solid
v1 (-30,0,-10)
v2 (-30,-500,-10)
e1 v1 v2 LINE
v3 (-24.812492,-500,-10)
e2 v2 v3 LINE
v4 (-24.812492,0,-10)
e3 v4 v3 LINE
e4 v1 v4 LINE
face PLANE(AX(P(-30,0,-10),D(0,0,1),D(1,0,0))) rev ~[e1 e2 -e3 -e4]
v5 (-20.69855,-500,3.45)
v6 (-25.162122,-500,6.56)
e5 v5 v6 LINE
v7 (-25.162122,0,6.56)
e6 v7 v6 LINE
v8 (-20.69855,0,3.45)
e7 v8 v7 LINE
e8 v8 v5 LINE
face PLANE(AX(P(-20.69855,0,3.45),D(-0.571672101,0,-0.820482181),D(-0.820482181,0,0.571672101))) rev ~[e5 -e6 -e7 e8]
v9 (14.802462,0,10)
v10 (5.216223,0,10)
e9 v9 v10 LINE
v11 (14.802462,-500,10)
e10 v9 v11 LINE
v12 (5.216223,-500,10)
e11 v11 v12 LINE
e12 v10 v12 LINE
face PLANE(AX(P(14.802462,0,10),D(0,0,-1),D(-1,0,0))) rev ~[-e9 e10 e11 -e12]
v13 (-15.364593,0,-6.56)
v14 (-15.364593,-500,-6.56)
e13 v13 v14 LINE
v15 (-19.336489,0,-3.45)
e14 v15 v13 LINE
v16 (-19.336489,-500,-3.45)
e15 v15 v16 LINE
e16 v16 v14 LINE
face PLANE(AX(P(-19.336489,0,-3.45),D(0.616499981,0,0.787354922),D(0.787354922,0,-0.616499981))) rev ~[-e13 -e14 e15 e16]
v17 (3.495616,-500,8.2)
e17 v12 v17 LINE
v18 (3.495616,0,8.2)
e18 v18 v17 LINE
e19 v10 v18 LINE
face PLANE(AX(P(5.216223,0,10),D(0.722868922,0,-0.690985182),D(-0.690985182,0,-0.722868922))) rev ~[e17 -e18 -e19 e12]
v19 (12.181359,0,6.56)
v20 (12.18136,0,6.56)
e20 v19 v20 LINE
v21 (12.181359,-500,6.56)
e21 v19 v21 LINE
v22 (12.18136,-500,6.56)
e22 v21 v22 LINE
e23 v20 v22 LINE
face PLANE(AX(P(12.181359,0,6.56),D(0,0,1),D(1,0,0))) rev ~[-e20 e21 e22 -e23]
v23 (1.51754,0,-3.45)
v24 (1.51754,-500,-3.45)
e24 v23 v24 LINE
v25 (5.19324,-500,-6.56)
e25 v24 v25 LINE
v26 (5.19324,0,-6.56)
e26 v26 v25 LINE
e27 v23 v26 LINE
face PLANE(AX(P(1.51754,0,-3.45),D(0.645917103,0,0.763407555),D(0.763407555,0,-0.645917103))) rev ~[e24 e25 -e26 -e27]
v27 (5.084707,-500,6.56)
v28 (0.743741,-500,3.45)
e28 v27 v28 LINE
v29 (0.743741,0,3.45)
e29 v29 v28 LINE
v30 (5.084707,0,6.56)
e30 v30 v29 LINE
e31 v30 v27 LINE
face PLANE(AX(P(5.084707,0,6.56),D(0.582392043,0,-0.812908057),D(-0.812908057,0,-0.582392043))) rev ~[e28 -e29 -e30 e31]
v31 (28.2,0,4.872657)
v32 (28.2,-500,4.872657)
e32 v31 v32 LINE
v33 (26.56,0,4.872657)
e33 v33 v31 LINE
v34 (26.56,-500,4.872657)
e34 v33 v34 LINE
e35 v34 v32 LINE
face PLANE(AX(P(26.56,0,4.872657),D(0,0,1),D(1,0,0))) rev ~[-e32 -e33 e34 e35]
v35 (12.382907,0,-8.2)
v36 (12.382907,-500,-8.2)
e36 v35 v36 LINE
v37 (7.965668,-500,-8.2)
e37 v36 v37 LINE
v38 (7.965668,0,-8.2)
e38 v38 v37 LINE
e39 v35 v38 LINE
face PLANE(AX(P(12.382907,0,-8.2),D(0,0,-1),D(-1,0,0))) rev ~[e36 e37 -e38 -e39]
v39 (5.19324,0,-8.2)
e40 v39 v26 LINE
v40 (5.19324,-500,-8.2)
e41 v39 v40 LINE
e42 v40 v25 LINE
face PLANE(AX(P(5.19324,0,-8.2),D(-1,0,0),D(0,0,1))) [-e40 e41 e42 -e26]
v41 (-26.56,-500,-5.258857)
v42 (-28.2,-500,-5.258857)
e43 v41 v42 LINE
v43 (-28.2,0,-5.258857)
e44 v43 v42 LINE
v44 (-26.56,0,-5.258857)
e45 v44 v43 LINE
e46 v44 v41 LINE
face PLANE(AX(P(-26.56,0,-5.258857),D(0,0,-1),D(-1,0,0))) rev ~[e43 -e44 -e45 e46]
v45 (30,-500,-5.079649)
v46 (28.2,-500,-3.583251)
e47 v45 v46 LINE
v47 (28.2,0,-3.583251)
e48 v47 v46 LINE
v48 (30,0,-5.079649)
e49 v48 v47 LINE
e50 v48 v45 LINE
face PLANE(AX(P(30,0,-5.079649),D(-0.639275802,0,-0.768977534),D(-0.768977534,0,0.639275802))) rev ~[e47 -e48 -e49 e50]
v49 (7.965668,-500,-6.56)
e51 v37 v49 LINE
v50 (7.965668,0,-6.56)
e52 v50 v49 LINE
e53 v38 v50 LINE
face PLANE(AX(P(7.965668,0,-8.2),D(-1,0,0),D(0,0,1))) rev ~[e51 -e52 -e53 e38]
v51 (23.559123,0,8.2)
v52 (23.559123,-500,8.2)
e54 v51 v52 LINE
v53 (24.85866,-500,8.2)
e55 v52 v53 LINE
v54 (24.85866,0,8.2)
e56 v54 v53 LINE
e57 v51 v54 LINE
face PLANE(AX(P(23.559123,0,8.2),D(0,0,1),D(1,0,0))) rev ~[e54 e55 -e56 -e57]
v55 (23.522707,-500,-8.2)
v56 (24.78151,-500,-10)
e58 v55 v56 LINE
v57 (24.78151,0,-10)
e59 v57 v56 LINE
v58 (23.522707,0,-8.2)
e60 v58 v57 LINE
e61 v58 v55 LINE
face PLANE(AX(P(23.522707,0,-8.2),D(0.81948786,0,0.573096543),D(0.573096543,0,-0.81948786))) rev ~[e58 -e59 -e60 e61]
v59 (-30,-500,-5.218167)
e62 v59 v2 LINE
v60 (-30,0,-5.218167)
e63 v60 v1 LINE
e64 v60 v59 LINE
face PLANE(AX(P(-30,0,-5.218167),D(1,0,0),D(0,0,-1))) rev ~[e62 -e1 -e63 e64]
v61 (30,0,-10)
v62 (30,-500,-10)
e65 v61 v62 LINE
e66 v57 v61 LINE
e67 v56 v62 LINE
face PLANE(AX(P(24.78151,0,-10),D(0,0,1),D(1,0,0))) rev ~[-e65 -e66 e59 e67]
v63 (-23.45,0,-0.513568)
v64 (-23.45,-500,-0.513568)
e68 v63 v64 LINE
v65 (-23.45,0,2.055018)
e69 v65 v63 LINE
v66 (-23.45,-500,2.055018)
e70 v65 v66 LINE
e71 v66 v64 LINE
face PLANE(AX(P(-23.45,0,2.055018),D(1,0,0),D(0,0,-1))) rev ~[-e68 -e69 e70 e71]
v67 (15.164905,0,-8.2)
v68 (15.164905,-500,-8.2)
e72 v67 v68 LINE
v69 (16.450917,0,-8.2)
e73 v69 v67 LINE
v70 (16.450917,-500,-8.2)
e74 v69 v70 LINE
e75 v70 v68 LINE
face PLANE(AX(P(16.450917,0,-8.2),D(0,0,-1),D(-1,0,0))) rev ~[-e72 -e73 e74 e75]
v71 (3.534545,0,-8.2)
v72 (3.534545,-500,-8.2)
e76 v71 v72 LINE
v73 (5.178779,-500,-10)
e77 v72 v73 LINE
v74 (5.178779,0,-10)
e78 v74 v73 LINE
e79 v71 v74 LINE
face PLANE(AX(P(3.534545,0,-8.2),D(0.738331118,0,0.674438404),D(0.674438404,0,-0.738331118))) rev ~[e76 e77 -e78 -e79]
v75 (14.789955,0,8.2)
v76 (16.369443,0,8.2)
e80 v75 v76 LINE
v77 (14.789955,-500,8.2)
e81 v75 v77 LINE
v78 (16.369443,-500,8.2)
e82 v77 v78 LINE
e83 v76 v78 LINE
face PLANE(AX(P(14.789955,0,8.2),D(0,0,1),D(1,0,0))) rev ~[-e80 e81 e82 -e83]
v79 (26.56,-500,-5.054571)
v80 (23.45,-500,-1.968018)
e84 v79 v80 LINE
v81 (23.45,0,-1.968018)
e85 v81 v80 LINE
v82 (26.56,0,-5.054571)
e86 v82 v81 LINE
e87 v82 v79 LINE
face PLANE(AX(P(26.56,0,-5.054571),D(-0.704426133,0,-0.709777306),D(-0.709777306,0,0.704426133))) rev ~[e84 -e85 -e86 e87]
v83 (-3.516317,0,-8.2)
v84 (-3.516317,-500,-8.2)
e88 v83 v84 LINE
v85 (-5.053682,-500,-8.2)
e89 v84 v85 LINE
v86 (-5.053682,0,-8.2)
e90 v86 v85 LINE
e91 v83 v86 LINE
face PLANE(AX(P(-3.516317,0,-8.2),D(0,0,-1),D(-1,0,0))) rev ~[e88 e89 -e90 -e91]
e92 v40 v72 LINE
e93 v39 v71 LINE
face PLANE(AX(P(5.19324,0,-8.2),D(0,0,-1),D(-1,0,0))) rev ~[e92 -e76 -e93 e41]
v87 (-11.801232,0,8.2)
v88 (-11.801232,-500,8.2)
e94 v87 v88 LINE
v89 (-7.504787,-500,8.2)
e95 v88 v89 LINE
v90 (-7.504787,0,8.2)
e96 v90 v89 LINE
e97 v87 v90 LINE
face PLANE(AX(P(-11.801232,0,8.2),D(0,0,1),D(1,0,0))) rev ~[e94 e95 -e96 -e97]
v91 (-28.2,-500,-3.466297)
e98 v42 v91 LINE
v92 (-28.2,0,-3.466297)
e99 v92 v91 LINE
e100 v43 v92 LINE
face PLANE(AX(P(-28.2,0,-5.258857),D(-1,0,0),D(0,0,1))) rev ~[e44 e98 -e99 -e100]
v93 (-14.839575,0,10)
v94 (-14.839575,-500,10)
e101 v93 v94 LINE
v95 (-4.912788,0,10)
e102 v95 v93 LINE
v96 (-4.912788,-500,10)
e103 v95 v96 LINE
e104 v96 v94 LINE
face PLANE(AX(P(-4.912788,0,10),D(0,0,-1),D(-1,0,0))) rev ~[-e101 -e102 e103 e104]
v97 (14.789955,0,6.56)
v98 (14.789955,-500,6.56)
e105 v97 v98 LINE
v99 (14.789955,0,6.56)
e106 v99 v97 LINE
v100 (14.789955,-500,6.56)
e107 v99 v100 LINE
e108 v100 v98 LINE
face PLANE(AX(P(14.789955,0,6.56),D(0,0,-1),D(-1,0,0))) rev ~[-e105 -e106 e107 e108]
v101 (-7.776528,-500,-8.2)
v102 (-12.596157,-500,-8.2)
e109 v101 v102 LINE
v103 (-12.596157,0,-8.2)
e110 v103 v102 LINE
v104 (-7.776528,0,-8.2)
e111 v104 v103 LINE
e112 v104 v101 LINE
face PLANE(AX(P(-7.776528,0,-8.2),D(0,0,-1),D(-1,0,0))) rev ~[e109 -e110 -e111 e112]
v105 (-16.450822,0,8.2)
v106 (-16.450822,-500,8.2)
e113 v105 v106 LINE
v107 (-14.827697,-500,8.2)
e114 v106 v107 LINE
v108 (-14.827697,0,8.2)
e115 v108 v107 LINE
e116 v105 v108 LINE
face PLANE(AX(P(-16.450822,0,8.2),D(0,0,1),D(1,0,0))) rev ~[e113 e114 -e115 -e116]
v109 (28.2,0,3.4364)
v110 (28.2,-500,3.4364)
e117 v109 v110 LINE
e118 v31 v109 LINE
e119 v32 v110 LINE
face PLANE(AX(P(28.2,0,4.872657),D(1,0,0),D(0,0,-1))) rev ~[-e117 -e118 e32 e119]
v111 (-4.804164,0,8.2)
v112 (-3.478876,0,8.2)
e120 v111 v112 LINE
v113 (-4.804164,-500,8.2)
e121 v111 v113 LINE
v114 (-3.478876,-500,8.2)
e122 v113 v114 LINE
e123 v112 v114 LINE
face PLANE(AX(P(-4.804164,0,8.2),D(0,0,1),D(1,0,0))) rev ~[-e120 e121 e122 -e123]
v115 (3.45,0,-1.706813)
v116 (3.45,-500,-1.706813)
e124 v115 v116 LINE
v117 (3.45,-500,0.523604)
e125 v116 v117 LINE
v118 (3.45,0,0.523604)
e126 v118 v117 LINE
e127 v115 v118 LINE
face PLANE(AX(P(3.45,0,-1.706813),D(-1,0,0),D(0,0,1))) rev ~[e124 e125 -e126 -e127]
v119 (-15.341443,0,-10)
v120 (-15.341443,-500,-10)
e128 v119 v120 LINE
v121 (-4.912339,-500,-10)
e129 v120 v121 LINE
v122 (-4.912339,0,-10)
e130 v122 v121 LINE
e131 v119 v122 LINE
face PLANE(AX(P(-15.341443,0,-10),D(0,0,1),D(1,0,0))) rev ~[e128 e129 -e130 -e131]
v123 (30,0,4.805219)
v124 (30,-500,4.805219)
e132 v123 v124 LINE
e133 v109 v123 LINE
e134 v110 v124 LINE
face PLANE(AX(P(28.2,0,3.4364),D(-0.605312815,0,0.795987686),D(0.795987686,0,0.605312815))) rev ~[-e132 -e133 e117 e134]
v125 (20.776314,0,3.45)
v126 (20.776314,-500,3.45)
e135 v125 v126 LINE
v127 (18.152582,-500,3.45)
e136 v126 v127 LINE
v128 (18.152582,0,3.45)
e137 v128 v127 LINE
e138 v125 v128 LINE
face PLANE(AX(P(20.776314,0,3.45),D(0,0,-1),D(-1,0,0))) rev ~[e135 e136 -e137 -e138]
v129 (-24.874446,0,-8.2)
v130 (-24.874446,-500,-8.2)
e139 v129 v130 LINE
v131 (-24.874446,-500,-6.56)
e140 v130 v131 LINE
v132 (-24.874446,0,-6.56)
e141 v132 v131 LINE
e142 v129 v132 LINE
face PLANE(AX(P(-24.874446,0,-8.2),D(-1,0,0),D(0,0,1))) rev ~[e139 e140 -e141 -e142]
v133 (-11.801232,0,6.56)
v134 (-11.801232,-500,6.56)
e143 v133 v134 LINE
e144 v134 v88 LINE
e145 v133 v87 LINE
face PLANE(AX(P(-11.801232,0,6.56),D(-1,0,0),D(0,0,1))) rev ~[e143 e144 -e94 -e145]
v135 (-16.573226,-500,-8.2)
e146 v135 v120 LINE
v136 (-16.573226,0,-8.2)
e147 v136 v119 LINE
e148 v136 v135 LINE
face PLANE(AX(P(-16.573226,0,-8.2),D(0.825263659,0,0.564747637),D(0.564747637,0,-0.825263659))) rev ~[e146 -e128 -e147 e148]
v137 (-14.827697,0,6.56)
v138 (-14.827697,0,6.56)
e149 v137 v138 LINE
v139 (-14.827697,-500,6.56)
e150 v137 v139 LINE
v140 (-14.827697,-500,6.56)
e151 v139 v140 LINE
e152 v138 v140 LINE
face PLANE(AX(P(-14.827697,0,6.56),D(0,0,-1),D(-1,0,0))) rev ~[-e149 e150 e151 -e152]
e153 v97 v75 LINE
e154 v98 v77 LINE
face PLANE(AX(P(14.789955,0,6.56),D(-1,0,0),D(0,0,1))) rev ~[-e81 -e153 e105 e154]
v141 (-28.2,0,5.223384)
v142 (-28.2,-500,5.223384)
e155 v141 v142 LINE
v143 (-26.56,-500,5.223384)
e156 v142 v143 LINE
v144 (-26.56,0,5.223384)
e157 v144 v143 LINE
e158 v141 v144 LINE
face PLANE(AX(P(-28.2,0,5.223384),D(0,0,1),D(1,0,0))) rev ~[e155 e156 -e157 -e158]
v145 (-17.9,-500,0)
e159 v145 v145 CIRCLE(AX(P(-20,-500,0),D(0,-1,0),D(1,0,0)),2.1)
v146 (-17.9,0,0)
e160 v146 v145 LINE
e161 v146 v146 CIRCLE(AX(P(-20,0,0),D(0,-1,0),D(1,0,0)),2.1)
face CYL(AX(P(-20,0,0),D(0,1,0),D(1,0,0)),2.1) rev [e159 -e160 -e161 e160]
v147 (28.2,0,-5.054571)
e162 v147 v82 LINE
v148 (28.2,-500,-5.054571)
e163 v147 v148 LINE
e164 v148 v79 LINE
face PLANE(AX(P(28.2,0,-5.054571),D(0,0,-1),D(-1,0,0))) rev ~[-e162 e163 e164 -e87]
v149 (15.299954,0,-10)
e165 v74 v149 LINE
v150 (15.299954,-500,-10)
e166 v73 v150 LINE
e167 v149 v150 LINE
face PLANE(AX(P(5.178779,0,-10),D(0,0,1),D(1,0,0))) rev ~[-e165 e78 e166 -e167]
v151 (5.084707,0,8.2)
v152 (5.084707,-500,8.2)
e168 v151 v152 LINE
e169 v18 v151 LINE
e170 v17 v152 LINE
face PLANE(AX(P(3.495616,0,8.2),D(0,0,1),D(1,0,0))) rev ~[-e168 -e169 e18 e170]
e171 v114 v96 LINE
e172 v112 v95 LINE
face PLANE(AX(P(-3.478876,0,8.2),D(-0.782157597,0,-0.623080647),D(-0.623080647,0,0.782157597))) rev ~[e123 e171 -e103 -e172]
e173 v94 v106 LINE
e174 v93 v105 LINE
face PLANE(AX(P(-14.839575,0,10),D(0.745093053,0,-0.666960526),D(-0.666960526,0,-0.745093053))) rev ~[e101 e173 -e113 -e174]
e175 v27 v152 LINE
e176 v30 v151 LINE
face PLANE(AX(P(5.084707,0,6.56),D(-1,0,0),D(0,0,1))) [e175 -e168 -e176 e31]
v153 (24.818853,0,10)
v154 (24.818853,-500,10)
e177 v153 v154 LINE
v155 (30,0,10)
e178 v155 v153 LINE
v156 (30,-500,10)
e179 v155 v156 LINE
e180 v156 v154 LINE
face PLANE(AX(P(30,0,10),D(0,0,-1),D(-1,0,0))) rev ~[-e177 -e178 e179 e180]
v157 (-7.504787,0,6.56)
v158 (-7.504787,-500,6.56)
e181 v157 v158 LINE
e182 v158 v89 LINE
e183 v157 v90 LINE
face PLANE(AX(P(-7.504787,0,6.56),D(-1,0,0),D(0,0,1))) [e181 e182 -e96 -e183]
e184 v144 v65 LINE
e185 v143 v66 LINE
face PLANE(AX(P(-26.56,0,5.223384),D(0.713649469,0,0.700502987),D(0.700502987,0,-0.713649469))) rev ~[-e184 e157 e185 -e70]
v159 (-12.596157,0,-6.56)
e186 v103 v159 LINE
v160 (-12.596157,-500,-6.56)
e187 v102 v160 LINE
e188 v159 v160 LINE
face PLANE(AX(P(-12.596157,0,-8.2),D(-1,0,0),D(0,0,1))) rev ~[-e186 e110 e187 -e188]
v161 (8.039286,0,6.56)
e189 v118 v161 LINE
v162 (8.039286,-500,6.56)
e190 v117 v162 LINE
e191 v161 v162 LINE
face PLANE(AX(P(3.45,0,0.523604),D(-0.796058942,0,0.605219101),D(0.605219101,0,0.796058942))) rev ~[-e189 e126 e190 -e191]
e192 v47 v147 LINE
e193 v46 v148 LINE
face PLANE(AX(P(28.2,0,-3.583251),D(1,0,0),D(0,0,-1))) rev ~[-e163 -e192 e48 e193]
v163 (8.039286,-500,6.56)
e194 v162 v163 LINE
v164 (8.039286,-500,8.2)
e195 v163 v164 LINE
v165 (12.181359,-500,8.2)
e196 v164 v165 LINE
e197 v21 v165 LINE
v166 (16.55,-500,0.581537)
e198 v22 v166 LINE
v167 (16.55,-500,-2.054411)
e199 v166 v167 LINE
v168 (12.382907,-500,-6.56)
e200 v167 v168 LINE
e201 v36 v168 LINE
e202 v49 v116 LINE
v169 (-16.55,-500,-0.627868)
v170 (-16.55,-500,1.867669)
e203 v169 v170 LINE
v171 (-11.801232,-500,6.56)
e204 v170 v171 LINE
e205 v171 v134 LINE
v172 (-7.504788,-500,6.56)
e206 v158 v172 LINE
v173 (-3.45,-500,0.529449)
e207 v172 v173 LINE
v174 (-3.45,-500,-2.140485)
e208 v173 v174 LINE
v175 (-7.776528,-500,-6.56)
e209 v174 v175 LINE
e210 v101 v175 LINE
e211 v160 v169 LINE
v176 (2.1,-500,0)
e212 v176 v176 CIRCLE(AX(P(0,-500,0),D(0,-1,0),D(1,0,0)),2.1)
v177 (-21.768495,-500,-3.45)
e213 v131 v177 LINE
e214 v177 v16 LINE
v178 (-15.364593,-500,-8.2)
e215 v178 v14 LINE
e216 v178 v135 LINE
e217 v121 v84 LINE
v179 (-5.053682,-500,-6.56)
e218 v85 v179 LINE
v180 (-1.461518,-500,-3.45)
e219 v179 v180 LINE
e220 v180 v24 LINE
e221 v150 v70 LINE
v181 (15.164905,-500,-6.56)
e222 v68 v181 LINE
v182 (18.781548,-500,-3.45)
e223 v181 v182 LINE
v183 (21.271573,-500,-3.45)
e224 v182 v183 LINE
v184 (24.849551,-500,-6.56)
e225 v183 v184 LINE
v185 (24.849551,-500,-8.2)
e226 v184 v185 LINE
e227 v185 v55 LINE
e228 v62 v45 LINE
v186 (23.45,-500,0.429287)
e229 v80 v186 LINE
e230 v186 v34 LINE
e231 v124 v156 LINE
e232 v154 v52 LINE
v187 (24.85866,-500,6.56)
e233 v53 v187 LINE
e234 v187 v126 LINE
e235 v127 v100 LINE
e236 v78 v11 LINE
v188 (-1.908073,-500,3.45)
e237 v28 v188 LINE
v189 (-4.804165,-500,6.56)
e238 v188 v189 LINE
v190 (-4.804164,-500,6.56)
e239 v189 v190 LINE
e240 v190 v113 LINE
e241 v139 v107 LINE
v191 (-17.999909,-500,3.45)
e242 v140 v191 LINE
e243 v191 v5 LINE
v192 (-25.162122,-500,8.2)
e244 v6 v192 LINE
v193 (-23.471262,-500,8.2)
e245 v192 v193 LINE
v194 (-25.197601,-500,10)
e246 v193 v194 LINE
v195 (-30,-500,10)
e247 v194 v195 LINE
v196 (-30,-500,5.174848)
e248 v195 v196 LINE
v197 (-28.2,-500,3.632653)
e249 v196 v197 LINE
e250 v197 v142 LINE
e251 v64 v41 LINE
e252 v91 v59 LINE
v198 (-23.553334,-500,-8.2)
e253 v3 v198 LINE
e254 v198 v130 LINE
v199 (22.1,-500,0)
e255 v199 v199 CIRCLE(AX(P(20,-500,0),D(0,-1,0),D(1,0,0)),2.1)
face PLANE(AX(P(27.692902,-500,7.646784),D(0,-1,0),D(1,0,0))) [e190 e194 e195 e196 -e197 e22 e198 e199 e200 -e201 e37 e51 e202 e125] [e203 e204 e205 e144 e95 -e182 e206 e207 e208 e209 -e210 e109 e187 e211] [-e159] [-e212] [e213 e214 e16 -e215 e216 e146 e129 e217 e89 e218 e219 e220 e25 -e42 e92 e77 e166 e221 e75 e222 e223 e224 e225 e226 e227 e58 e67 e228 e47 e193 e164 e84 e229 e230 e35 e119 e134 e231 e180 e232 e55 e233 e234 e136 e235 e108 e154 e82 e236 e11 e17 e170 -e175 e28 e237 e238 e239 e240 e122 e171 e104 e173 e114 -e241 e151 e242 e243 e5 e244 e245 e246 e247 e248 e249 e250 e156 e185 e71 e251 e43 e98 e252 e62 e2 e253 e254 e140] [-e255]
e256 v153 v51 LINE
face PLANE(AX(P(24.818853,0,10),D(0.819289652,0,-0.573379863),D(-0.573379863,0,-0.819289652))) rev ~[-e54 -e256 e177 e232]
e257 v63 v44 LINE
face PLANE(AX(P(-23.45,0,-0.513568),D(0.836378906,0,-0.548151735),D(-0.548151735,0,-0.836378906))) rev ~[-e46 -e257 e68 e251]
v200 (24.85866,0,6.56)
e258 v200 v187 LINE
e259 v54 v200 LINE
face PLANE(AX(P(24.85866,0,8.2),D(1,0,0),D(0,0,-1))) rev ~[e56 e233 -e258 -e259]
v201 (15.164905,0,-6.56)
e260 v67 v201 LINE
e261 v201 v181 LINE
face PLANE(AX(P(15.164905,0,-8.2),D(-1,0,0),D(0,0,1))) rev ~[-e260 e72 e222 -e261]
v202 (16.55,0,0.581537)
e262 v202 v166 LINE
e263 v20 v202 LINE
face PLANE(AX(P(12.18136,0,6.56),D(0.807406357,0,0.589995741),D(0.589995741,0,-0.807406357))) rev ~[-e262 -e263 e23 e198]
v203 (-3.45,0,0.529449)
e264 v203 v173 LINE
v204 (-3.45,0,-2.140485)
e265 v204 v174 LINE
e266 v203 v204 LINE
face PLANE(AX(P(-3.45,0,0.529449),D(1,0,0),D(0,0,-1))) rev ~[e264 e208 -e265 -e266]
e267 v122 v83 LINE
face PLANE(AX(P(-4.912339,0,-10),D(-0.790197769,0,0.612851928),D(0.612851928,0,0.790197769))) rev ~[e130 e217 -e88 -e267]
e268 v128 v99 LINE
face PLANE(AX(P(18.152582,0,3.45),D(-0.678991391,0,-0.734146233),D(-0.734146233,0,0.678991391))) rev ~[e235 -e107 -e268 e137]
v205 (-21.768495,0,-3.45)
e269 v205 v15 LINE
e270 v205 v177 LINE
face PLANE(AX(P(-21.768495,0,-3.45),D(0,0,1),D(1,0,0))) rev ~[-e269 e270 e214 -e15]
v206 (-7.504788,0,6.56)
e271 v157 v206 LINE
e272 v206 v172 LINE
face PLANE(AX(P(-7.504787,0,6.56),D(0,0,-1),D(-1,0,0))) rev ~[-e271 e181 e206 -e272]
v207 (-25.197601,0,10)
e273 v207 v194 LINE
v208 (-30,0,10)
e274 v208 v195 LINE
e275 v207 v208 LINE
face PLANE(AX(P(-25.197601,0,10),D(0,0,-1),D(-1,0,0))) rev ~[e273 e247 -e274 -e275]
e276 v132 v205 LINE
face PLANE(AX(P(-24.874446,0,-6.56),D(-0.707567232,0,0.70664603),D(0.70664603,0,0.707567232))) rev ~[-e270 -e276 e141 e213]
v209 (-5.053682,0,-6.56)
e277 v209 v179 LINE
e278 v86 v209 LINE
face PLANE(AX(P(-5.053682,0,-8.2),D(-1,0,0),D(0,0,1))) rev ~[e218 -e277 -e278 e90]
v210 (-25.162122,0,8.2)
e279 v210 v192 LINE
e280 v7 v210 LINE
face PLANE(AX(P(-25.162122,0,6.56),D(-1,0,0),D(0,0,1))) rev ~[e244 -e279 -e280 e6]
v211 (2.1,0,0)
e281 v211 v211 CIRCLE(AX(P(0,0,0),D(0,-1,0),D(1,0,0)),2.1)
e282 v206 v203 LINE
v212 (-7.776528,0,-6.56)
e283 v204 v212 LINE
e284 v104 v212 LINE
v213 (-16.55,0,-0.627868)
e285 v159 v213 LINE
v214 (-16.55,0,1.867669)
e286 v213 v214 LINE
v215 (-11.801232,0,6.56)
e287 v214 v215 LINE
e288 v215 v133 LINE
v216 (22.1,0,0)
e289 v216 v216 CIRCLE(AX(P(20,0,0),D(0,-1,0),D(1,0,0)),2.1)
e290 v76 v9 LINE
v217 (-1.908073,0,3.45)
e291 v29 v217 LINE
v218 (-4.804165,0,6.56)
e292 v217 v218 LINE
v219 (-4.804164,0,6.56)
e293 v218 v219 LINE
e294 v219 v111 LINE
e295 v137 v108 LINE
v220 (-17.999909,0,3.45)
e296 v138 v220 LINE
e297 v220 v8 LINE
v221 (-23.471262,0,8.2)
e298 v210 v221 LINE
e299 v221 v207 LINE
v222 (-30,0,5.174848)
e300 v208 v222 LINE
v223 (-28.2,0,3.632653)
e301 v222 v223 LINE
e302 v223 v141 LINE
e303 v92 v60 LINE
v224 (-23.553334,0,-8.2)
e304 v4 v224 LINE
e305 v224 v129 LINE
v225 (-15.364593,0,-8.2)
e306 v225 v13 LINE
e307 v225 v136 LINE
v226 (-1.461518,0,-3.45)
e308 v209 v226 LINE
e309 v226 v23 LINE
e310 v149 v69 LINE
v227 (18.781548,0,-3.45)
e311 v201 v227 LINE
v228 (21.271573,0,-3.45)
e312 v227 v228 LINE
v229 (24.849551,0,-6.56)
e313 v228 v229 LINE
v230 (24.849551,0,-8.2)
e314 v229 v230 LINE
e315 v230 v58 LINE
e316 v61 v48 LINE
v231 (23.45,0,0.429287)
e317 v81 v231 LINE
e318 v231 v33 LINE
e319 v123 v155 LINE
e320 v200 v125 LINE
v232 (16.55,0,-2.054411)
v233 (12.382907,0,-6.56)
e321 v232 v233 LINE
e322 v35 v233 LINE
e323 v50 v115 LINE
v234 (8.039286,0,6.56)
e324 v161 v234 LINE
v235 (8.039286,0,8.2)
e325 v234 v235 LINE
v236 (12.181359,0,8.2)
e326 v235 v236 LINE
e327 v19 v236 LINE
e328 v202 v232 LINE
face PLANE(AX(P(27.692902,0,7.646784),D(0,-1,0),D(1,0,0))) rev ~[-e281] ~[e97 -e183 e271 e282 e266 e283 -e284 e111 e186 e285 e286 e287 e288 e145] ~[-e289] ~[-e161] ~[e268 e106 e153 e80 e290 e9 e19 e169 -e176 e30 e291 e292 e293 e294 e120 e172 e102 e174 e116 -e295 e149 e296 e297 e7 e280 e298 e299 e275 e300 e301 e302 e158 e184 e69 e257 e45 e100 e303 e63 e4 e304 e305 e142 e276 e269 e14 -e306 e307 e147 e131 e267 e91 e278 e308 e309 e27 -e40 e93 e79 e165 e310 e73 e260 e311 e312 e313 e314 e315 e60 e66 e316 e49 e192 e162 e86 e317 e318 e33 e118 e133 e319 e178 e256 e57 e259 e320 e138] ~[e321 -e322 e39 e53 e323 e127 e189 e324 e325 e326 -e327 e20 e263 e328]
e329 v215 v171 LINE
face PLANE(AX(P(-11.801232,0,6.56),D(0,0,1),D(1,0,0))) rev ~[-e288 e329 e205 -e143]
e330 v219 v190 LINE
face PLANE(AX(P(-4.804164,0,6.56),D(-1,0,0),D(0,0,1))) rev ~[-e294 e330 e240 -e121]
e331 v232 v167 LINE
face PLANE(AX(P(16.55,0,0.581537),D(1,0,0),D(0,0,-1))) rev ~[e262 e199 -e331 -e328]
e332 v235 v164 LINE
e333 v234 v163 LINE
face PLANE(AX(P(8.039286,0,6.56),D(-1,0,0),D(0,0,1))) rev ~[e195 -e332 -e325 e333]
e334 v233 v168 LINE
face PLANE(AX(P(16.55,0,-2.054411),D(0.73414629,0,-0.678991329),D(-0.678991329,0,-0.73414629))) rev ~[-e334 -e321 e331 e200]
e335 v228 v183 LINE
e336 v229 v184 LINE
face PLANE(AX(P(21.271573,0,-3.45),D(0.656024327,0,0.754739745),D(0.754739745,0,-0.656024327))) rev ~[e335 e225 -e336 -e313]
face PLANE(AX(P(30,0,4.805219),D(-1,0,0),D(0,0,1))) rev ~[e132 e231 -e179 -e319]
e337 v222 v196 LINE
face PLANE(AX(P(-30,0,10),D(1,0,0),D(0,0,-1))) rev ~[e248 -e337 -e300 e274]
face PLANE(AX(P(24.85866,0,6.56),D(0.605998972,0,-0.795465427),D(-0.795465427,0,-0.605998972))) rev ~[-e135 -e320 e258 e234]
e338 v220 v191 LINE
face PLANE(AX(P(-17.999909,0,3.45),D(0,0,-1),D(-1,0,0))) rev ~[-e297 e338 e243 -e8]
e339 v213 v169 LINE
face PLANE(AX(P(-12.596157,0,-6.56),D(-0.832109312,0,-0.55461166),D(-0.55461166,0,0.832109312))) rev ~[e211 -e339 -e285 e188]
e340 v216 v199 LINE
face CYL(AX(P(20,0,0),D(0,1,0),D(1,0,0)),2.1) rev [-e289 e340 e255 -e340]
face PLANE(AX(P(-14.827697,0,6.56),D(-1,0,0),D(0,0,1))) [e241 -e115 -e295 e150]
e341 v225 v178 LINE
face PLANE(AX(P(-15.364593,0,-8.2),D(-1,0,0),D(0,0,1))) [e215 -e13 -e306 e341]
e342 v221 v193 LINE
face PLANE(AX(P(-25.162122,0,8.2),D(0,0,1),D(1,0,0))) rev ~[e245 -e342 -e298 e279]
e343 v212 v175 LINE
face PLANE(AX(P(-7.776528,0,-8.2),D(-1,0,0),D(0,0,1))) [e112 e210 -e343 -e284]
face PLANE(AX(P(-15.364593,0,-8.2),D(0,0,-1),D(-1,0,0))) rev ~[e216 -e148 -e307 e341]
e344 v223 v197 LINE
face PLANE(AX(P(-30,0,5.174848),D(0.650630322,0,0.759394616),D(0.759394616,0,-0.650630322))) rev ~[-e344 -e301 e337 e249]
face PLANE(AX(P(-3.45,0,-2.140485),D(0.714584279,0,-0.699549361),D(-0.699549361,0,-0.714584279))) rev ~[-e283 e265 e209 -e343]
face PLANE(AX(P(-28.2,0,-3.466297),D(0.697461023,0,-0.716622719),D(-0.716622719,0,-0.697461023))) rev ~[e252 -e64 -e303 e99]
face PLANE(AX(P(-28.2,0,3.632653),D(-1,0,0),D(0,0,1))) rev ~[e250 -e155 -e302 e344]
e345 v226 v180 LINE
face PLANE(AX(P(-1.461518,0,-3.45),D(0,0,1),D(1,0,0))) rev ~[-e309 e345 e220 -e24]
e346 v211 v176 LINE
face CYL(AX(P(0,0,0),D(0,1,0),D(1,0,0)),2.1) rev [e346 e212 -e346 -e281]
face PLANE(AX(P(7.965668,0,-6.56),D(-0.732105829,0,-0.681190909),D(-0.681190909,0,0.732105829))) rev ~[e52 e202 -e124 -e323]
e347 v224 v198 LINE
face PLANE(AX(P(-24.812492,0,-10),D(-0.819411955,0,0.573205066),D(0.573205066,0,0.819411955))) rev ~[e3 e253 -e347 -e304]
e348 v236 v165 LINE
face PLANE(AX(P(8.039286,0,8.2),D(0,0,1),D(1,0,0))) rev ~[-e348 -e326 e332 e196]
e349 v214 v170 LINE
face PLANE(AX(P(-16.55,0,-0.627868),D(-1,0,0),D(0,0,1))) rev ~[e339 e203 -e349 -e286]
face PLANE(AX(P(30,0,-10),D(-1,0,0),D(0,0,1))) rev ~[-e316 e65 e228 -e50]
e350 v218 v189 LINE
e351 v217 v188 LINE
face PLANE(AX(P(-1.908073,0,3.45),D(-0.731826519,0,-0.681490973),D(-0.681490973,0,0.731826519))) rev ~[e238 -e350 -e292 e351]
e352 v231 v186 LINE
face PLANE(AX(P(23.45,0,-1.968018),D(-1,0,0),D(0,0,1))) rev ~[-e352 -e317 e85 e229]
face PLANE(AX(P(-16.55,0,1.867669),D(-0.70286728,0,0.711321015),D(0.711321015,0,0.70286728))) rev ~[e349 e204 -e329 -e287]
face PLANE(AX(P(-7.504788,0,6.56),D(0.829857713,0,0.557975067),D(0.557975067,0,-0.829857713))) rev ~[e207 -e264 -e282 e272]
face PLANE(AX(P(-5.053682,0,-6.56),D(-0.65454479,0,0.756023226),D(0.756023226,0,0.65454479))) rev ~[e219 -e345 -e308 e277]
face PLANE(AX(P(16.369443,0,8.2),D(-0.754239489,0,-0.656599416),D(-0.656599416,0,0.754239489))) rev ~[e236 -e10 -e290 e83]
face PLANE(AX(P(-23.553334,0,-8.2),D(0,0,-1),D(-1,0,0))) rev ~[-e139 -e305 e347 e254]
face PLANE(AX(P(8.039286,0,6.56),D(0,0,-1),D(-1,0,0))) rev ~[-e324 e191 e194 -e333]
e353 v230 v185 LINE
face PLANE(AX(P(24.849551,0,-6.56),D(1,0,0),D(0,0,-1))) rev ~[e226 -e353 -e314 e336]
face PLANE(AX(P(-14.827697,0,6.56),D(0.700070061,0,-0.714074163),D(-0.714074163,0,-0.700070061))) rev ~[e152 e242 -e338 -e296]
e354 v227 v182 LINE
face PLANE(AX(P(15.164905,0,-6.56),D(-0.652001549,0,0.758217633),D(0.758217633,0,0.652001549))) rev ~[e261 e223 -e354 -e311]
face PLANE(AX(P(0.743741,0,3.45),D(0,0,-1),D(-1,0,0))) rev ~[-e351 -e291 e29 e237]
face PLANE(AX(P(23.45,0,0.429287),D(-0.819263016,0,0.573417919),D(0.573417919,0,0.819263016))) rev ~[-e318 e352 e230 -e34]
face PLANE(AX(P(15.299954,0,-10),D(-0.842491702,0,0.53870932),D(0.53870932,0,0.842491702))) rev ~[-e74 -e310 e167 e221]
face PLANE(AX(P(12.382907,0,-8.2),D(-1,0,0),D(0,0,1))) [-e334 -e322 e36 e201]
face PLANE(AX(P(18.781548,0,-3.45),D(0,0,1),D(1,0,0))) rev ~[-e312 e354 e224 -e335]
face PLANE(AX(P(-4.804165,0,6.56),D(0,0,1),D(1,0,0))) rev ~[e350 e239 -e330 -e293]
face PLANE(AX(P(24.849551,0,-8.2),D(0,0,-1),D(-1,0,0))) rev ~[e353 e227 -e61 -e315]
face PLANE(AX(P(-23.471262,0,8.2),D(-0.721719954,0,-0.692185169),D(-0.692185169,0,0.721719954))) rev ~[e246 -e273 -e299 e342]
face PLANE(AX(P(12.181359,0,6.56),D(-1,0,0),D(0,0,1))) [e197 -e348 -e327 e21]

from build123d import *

# Parameters (mm, degrees)
F0_R     = 2.1
F0_W     = 2.608595
F0_H     = 1.64
F0_W_2   = 2.954579
F0_W_3   = 2.781998
F0_W_4   = 2.772428
F0_W_5   = 2.700623
F0_W_6   = 3.026465
F0_W_7   = 2.722846
F0_W_8   = 2.768436
F1_DEPTH = 500


with BuildPart() as f1:
    # F0 (on Front) → F1 (new body)
    with BuildSketch(Plane.XZ):
        Polygon((30, 4.805219), (30, 10), (24.818853, 10), (23.559123, 8.2), (24.85866, 8.2), (28.2, 8.2), (28.2, 4.872657), (28.2, 3.4364), align=None)
        Polygon((28.2, 8.2), (24.85866, 8.2), (24.85866, 6.56), (26.56, 6.56), (26.56, 4.872657), (28.2, 4.872657), align=None)
        Polygon((26.56, 6.56), (24.85866, 6.56), (20.776314, 3.45), (23.45, 3.45), (23.45, 0.429287), (26.56, 4.872657), align=None)
        Polygon((28.2, -5.054571), (26.56, -5.054571), (26.56, -6.56), (24.849551, -6.56), (24.849551, -8.2), (28.2, -8.2), align=None)
        Polygon((28.2, -3.583251), (28.2, -5.054571), (28.2, -8.2), (24.849551, -8.2), (23.522707, -8.2), (24.78151, -10), (30, -10), (30, -5.079649), align=None)
        Polygon((26.56, -5.054571), (23.45, -1.968018), (23.45, -3.45), (21.271573, -3.45), (24.849551, -6.56), (26.56, -6.56), align=None)
        Polygon((23.45, 3.45), (20.776314, 3.45), (18.152582, 3.45), (16.55, 3.45), (16.55, 0.581537), (16.55, -2.054411), (16.55, -3.45), (18.781548, -3.45), (21.271573, -3.45), (23.45, -3.45), (23.45, -1.968018), (23.45, 0.429287), align=None)
        with Locations((20, 0)):
            Circle(F0_R, mode=Mode.SUBTRACT)
        Polygon((16.55, 3.45), (18.152582, 3.45), (14.789955, 6.56), (12.18136, 6.56), (16.55, 0.581537), align=None)
        with Locations((13.485657, 7.38)):
            Rectangle(F0_W, F0_H)
        Polygon((12.18136, 8.2), (14.789955, 8.2), (16.369443, 8.2), (14.802462, 10), (5.216223, 10), (3.495616, 8.2), (5.084707, 8.2), (8.039286, 8.2), align=None)
        with Locations((6.561996, 7.38)):
            Rectangle(F0_W_2, F0_H)
        Polygon((3.45, 0.523604), (8.039286, 6.56), (5.084707, 6.56), (0.743741, 3.45), (3.45, 3.45), align=None)
        Polygon((16.55, -3.45), (16.55, -2.054411), (12.382907, -6.56), (15.164905, -6.56), (18.781548, -3.45), align=None)
        with Locations((13.773906, -7.38)):
            Rectangle(F0_W_3, F0_H)
        Polygon((15.164905, -8.2), (12.382907, -8.2), (7.965668, -8.2), (5.19324, -8.2), (3.534545, -8.2), (5.178779, -10), (15.299954, -10), (16.450917, -8.2), align=None)
        with Locations((6.579454, -7.38)):
            Rectangle(F0_W_4, F0_H)
        Polygon((5.19324, -6.56), (7.965668, -6.56), (3.45, -1.706813), (3.45, -3.45), (1.51754, -3.45), align=None)
        Polygon((3.45, -1.706813), (3.45, 0.523604), (3.45, 3.45), (0.743741, 3.45), (-1.908073, 3.45), (-3.45, 3.45), (-3.45, 0.529449), (-3.45, -2.140485), (-3.45, -3.45), (-1.461518, -3.45), (1.51754, -3.45), (3.45, -3.45), align=None)
        Circle(F0_R, mode=Mode.SUBTRACT)
        Polygon((-3.45, 3.45), (-1.908073, 3.45), (-4.804165, 6.56), (-7.504788, 6.56), (-3.45, 0.529449), align=None)
        with Locations((-6.154476, 7.38)):
            Rectangle(F0_W_5, F0_H)
        Polygon((-7.504788, 8.2), (-4.804165, 8.2), (-3.478876, 8.2), (-4.912788, 10), (-14.839575, 10), (-16.450822, 8.2), (-14.827697, 8.2), (-11.801232, 8.2), align=None)
        with Locations((-13.314464, 7.38)):
            Rectangle(F0_W_6, F0_H)
        Polygon((-16.55, 1.867669), (-11.801232, 6.56), (-14.827697, 6.56), (-17.999909, 3.45), (-16.55, 3.45), align=None)
        Polygon((-5.053682, -6.56), (-1.461518, -3.45), (-3.45, -3.45), (-3.45, -2.140485), (-7.776528, -6.56), align=None)
        with Locations((-6.415105, -7.38)):
            Rectangle(F0_W_7, F0_H)
        Polygon((-3.516317, -8.2), (-5.053682, -8.2), (-7.776528, -8.2), (-12.596157, -8.2), (-15.364593, -8.2), (-16.573226, -8.2), (-15.341443, -10), (-4.912339, -10), align=None)
        with Locations((-13.980375, -7.38)):
            Rectangle(F0_W_8, F0_H)
        Polygon((-15.364593, -6.56), (-12.596157, -6.56), (-16.55, -0.627868), (-16.55, -3.45), (-19.336489, -3.45), align=None)
        Polygon((-16.55, -0.627868), (-16.55, 1.867669), (-16.55, 3.45), (-17.999909, 3.45), (-20.69855, 3.45), (-23.45, 3.45), (-23.45, 2.055018), (-23.45, -0.513568), (-23.45, -3.45), (-21.768495, -3.45), (-19.336489, -3.45), (-16.55, -3.45), align=None)
        with Locations((-20, 0)):
            Circle(F0_R, mode=Mode.SUBTRACT)
        Polygon((-23.45, 3.45), (-20.69855, 3.45), (-25.162122, 6.56), (-26.56, 6.56), (-26.56, 5.223384), (-23.45, 2.055018), align=None)
        Polygon((-24.874446, -6.56), (-21.768495, -3.45), (-23.45, -3.45), (-23.45, -0.513568), (-26.56, -5.258857), (-26.56, -6.56), align=None)
        Polygon((-26.56, 6.56), (-25.162122, 6.56), (-25.162122, 8.2), (-28.2, 8.2), (-28.2, 5.223384), (-26.56, 5.223384), align=None)
        Polygon((-28.2, 8.2), (-25.162122, 8.2), (-23.471262, 8.2), (-25.197601, 10), (-30, 10), (-30, 5.174848), (-28.2, 3.632653), (-28.2, 5.223384), align=None)
        Polygon((-24.874446, -8.2), (-24.874446, -6.56), (-26.56, -6.56), (-26.56, -5.258857), (-28.2, -5.258857), (-28.2, -8.2), align=None)
        Polygon((-23.553334, -8.2), (-24.874446, -8.2), (-28.2, -8.2), (-28.2, -5.258857), (-28.2, -3.466297), (-30, -5.218167), (-30, -10), (-24.812492, -10), align=None)
    extrude(amount=F1_DEPTH)


solid = f1.part
